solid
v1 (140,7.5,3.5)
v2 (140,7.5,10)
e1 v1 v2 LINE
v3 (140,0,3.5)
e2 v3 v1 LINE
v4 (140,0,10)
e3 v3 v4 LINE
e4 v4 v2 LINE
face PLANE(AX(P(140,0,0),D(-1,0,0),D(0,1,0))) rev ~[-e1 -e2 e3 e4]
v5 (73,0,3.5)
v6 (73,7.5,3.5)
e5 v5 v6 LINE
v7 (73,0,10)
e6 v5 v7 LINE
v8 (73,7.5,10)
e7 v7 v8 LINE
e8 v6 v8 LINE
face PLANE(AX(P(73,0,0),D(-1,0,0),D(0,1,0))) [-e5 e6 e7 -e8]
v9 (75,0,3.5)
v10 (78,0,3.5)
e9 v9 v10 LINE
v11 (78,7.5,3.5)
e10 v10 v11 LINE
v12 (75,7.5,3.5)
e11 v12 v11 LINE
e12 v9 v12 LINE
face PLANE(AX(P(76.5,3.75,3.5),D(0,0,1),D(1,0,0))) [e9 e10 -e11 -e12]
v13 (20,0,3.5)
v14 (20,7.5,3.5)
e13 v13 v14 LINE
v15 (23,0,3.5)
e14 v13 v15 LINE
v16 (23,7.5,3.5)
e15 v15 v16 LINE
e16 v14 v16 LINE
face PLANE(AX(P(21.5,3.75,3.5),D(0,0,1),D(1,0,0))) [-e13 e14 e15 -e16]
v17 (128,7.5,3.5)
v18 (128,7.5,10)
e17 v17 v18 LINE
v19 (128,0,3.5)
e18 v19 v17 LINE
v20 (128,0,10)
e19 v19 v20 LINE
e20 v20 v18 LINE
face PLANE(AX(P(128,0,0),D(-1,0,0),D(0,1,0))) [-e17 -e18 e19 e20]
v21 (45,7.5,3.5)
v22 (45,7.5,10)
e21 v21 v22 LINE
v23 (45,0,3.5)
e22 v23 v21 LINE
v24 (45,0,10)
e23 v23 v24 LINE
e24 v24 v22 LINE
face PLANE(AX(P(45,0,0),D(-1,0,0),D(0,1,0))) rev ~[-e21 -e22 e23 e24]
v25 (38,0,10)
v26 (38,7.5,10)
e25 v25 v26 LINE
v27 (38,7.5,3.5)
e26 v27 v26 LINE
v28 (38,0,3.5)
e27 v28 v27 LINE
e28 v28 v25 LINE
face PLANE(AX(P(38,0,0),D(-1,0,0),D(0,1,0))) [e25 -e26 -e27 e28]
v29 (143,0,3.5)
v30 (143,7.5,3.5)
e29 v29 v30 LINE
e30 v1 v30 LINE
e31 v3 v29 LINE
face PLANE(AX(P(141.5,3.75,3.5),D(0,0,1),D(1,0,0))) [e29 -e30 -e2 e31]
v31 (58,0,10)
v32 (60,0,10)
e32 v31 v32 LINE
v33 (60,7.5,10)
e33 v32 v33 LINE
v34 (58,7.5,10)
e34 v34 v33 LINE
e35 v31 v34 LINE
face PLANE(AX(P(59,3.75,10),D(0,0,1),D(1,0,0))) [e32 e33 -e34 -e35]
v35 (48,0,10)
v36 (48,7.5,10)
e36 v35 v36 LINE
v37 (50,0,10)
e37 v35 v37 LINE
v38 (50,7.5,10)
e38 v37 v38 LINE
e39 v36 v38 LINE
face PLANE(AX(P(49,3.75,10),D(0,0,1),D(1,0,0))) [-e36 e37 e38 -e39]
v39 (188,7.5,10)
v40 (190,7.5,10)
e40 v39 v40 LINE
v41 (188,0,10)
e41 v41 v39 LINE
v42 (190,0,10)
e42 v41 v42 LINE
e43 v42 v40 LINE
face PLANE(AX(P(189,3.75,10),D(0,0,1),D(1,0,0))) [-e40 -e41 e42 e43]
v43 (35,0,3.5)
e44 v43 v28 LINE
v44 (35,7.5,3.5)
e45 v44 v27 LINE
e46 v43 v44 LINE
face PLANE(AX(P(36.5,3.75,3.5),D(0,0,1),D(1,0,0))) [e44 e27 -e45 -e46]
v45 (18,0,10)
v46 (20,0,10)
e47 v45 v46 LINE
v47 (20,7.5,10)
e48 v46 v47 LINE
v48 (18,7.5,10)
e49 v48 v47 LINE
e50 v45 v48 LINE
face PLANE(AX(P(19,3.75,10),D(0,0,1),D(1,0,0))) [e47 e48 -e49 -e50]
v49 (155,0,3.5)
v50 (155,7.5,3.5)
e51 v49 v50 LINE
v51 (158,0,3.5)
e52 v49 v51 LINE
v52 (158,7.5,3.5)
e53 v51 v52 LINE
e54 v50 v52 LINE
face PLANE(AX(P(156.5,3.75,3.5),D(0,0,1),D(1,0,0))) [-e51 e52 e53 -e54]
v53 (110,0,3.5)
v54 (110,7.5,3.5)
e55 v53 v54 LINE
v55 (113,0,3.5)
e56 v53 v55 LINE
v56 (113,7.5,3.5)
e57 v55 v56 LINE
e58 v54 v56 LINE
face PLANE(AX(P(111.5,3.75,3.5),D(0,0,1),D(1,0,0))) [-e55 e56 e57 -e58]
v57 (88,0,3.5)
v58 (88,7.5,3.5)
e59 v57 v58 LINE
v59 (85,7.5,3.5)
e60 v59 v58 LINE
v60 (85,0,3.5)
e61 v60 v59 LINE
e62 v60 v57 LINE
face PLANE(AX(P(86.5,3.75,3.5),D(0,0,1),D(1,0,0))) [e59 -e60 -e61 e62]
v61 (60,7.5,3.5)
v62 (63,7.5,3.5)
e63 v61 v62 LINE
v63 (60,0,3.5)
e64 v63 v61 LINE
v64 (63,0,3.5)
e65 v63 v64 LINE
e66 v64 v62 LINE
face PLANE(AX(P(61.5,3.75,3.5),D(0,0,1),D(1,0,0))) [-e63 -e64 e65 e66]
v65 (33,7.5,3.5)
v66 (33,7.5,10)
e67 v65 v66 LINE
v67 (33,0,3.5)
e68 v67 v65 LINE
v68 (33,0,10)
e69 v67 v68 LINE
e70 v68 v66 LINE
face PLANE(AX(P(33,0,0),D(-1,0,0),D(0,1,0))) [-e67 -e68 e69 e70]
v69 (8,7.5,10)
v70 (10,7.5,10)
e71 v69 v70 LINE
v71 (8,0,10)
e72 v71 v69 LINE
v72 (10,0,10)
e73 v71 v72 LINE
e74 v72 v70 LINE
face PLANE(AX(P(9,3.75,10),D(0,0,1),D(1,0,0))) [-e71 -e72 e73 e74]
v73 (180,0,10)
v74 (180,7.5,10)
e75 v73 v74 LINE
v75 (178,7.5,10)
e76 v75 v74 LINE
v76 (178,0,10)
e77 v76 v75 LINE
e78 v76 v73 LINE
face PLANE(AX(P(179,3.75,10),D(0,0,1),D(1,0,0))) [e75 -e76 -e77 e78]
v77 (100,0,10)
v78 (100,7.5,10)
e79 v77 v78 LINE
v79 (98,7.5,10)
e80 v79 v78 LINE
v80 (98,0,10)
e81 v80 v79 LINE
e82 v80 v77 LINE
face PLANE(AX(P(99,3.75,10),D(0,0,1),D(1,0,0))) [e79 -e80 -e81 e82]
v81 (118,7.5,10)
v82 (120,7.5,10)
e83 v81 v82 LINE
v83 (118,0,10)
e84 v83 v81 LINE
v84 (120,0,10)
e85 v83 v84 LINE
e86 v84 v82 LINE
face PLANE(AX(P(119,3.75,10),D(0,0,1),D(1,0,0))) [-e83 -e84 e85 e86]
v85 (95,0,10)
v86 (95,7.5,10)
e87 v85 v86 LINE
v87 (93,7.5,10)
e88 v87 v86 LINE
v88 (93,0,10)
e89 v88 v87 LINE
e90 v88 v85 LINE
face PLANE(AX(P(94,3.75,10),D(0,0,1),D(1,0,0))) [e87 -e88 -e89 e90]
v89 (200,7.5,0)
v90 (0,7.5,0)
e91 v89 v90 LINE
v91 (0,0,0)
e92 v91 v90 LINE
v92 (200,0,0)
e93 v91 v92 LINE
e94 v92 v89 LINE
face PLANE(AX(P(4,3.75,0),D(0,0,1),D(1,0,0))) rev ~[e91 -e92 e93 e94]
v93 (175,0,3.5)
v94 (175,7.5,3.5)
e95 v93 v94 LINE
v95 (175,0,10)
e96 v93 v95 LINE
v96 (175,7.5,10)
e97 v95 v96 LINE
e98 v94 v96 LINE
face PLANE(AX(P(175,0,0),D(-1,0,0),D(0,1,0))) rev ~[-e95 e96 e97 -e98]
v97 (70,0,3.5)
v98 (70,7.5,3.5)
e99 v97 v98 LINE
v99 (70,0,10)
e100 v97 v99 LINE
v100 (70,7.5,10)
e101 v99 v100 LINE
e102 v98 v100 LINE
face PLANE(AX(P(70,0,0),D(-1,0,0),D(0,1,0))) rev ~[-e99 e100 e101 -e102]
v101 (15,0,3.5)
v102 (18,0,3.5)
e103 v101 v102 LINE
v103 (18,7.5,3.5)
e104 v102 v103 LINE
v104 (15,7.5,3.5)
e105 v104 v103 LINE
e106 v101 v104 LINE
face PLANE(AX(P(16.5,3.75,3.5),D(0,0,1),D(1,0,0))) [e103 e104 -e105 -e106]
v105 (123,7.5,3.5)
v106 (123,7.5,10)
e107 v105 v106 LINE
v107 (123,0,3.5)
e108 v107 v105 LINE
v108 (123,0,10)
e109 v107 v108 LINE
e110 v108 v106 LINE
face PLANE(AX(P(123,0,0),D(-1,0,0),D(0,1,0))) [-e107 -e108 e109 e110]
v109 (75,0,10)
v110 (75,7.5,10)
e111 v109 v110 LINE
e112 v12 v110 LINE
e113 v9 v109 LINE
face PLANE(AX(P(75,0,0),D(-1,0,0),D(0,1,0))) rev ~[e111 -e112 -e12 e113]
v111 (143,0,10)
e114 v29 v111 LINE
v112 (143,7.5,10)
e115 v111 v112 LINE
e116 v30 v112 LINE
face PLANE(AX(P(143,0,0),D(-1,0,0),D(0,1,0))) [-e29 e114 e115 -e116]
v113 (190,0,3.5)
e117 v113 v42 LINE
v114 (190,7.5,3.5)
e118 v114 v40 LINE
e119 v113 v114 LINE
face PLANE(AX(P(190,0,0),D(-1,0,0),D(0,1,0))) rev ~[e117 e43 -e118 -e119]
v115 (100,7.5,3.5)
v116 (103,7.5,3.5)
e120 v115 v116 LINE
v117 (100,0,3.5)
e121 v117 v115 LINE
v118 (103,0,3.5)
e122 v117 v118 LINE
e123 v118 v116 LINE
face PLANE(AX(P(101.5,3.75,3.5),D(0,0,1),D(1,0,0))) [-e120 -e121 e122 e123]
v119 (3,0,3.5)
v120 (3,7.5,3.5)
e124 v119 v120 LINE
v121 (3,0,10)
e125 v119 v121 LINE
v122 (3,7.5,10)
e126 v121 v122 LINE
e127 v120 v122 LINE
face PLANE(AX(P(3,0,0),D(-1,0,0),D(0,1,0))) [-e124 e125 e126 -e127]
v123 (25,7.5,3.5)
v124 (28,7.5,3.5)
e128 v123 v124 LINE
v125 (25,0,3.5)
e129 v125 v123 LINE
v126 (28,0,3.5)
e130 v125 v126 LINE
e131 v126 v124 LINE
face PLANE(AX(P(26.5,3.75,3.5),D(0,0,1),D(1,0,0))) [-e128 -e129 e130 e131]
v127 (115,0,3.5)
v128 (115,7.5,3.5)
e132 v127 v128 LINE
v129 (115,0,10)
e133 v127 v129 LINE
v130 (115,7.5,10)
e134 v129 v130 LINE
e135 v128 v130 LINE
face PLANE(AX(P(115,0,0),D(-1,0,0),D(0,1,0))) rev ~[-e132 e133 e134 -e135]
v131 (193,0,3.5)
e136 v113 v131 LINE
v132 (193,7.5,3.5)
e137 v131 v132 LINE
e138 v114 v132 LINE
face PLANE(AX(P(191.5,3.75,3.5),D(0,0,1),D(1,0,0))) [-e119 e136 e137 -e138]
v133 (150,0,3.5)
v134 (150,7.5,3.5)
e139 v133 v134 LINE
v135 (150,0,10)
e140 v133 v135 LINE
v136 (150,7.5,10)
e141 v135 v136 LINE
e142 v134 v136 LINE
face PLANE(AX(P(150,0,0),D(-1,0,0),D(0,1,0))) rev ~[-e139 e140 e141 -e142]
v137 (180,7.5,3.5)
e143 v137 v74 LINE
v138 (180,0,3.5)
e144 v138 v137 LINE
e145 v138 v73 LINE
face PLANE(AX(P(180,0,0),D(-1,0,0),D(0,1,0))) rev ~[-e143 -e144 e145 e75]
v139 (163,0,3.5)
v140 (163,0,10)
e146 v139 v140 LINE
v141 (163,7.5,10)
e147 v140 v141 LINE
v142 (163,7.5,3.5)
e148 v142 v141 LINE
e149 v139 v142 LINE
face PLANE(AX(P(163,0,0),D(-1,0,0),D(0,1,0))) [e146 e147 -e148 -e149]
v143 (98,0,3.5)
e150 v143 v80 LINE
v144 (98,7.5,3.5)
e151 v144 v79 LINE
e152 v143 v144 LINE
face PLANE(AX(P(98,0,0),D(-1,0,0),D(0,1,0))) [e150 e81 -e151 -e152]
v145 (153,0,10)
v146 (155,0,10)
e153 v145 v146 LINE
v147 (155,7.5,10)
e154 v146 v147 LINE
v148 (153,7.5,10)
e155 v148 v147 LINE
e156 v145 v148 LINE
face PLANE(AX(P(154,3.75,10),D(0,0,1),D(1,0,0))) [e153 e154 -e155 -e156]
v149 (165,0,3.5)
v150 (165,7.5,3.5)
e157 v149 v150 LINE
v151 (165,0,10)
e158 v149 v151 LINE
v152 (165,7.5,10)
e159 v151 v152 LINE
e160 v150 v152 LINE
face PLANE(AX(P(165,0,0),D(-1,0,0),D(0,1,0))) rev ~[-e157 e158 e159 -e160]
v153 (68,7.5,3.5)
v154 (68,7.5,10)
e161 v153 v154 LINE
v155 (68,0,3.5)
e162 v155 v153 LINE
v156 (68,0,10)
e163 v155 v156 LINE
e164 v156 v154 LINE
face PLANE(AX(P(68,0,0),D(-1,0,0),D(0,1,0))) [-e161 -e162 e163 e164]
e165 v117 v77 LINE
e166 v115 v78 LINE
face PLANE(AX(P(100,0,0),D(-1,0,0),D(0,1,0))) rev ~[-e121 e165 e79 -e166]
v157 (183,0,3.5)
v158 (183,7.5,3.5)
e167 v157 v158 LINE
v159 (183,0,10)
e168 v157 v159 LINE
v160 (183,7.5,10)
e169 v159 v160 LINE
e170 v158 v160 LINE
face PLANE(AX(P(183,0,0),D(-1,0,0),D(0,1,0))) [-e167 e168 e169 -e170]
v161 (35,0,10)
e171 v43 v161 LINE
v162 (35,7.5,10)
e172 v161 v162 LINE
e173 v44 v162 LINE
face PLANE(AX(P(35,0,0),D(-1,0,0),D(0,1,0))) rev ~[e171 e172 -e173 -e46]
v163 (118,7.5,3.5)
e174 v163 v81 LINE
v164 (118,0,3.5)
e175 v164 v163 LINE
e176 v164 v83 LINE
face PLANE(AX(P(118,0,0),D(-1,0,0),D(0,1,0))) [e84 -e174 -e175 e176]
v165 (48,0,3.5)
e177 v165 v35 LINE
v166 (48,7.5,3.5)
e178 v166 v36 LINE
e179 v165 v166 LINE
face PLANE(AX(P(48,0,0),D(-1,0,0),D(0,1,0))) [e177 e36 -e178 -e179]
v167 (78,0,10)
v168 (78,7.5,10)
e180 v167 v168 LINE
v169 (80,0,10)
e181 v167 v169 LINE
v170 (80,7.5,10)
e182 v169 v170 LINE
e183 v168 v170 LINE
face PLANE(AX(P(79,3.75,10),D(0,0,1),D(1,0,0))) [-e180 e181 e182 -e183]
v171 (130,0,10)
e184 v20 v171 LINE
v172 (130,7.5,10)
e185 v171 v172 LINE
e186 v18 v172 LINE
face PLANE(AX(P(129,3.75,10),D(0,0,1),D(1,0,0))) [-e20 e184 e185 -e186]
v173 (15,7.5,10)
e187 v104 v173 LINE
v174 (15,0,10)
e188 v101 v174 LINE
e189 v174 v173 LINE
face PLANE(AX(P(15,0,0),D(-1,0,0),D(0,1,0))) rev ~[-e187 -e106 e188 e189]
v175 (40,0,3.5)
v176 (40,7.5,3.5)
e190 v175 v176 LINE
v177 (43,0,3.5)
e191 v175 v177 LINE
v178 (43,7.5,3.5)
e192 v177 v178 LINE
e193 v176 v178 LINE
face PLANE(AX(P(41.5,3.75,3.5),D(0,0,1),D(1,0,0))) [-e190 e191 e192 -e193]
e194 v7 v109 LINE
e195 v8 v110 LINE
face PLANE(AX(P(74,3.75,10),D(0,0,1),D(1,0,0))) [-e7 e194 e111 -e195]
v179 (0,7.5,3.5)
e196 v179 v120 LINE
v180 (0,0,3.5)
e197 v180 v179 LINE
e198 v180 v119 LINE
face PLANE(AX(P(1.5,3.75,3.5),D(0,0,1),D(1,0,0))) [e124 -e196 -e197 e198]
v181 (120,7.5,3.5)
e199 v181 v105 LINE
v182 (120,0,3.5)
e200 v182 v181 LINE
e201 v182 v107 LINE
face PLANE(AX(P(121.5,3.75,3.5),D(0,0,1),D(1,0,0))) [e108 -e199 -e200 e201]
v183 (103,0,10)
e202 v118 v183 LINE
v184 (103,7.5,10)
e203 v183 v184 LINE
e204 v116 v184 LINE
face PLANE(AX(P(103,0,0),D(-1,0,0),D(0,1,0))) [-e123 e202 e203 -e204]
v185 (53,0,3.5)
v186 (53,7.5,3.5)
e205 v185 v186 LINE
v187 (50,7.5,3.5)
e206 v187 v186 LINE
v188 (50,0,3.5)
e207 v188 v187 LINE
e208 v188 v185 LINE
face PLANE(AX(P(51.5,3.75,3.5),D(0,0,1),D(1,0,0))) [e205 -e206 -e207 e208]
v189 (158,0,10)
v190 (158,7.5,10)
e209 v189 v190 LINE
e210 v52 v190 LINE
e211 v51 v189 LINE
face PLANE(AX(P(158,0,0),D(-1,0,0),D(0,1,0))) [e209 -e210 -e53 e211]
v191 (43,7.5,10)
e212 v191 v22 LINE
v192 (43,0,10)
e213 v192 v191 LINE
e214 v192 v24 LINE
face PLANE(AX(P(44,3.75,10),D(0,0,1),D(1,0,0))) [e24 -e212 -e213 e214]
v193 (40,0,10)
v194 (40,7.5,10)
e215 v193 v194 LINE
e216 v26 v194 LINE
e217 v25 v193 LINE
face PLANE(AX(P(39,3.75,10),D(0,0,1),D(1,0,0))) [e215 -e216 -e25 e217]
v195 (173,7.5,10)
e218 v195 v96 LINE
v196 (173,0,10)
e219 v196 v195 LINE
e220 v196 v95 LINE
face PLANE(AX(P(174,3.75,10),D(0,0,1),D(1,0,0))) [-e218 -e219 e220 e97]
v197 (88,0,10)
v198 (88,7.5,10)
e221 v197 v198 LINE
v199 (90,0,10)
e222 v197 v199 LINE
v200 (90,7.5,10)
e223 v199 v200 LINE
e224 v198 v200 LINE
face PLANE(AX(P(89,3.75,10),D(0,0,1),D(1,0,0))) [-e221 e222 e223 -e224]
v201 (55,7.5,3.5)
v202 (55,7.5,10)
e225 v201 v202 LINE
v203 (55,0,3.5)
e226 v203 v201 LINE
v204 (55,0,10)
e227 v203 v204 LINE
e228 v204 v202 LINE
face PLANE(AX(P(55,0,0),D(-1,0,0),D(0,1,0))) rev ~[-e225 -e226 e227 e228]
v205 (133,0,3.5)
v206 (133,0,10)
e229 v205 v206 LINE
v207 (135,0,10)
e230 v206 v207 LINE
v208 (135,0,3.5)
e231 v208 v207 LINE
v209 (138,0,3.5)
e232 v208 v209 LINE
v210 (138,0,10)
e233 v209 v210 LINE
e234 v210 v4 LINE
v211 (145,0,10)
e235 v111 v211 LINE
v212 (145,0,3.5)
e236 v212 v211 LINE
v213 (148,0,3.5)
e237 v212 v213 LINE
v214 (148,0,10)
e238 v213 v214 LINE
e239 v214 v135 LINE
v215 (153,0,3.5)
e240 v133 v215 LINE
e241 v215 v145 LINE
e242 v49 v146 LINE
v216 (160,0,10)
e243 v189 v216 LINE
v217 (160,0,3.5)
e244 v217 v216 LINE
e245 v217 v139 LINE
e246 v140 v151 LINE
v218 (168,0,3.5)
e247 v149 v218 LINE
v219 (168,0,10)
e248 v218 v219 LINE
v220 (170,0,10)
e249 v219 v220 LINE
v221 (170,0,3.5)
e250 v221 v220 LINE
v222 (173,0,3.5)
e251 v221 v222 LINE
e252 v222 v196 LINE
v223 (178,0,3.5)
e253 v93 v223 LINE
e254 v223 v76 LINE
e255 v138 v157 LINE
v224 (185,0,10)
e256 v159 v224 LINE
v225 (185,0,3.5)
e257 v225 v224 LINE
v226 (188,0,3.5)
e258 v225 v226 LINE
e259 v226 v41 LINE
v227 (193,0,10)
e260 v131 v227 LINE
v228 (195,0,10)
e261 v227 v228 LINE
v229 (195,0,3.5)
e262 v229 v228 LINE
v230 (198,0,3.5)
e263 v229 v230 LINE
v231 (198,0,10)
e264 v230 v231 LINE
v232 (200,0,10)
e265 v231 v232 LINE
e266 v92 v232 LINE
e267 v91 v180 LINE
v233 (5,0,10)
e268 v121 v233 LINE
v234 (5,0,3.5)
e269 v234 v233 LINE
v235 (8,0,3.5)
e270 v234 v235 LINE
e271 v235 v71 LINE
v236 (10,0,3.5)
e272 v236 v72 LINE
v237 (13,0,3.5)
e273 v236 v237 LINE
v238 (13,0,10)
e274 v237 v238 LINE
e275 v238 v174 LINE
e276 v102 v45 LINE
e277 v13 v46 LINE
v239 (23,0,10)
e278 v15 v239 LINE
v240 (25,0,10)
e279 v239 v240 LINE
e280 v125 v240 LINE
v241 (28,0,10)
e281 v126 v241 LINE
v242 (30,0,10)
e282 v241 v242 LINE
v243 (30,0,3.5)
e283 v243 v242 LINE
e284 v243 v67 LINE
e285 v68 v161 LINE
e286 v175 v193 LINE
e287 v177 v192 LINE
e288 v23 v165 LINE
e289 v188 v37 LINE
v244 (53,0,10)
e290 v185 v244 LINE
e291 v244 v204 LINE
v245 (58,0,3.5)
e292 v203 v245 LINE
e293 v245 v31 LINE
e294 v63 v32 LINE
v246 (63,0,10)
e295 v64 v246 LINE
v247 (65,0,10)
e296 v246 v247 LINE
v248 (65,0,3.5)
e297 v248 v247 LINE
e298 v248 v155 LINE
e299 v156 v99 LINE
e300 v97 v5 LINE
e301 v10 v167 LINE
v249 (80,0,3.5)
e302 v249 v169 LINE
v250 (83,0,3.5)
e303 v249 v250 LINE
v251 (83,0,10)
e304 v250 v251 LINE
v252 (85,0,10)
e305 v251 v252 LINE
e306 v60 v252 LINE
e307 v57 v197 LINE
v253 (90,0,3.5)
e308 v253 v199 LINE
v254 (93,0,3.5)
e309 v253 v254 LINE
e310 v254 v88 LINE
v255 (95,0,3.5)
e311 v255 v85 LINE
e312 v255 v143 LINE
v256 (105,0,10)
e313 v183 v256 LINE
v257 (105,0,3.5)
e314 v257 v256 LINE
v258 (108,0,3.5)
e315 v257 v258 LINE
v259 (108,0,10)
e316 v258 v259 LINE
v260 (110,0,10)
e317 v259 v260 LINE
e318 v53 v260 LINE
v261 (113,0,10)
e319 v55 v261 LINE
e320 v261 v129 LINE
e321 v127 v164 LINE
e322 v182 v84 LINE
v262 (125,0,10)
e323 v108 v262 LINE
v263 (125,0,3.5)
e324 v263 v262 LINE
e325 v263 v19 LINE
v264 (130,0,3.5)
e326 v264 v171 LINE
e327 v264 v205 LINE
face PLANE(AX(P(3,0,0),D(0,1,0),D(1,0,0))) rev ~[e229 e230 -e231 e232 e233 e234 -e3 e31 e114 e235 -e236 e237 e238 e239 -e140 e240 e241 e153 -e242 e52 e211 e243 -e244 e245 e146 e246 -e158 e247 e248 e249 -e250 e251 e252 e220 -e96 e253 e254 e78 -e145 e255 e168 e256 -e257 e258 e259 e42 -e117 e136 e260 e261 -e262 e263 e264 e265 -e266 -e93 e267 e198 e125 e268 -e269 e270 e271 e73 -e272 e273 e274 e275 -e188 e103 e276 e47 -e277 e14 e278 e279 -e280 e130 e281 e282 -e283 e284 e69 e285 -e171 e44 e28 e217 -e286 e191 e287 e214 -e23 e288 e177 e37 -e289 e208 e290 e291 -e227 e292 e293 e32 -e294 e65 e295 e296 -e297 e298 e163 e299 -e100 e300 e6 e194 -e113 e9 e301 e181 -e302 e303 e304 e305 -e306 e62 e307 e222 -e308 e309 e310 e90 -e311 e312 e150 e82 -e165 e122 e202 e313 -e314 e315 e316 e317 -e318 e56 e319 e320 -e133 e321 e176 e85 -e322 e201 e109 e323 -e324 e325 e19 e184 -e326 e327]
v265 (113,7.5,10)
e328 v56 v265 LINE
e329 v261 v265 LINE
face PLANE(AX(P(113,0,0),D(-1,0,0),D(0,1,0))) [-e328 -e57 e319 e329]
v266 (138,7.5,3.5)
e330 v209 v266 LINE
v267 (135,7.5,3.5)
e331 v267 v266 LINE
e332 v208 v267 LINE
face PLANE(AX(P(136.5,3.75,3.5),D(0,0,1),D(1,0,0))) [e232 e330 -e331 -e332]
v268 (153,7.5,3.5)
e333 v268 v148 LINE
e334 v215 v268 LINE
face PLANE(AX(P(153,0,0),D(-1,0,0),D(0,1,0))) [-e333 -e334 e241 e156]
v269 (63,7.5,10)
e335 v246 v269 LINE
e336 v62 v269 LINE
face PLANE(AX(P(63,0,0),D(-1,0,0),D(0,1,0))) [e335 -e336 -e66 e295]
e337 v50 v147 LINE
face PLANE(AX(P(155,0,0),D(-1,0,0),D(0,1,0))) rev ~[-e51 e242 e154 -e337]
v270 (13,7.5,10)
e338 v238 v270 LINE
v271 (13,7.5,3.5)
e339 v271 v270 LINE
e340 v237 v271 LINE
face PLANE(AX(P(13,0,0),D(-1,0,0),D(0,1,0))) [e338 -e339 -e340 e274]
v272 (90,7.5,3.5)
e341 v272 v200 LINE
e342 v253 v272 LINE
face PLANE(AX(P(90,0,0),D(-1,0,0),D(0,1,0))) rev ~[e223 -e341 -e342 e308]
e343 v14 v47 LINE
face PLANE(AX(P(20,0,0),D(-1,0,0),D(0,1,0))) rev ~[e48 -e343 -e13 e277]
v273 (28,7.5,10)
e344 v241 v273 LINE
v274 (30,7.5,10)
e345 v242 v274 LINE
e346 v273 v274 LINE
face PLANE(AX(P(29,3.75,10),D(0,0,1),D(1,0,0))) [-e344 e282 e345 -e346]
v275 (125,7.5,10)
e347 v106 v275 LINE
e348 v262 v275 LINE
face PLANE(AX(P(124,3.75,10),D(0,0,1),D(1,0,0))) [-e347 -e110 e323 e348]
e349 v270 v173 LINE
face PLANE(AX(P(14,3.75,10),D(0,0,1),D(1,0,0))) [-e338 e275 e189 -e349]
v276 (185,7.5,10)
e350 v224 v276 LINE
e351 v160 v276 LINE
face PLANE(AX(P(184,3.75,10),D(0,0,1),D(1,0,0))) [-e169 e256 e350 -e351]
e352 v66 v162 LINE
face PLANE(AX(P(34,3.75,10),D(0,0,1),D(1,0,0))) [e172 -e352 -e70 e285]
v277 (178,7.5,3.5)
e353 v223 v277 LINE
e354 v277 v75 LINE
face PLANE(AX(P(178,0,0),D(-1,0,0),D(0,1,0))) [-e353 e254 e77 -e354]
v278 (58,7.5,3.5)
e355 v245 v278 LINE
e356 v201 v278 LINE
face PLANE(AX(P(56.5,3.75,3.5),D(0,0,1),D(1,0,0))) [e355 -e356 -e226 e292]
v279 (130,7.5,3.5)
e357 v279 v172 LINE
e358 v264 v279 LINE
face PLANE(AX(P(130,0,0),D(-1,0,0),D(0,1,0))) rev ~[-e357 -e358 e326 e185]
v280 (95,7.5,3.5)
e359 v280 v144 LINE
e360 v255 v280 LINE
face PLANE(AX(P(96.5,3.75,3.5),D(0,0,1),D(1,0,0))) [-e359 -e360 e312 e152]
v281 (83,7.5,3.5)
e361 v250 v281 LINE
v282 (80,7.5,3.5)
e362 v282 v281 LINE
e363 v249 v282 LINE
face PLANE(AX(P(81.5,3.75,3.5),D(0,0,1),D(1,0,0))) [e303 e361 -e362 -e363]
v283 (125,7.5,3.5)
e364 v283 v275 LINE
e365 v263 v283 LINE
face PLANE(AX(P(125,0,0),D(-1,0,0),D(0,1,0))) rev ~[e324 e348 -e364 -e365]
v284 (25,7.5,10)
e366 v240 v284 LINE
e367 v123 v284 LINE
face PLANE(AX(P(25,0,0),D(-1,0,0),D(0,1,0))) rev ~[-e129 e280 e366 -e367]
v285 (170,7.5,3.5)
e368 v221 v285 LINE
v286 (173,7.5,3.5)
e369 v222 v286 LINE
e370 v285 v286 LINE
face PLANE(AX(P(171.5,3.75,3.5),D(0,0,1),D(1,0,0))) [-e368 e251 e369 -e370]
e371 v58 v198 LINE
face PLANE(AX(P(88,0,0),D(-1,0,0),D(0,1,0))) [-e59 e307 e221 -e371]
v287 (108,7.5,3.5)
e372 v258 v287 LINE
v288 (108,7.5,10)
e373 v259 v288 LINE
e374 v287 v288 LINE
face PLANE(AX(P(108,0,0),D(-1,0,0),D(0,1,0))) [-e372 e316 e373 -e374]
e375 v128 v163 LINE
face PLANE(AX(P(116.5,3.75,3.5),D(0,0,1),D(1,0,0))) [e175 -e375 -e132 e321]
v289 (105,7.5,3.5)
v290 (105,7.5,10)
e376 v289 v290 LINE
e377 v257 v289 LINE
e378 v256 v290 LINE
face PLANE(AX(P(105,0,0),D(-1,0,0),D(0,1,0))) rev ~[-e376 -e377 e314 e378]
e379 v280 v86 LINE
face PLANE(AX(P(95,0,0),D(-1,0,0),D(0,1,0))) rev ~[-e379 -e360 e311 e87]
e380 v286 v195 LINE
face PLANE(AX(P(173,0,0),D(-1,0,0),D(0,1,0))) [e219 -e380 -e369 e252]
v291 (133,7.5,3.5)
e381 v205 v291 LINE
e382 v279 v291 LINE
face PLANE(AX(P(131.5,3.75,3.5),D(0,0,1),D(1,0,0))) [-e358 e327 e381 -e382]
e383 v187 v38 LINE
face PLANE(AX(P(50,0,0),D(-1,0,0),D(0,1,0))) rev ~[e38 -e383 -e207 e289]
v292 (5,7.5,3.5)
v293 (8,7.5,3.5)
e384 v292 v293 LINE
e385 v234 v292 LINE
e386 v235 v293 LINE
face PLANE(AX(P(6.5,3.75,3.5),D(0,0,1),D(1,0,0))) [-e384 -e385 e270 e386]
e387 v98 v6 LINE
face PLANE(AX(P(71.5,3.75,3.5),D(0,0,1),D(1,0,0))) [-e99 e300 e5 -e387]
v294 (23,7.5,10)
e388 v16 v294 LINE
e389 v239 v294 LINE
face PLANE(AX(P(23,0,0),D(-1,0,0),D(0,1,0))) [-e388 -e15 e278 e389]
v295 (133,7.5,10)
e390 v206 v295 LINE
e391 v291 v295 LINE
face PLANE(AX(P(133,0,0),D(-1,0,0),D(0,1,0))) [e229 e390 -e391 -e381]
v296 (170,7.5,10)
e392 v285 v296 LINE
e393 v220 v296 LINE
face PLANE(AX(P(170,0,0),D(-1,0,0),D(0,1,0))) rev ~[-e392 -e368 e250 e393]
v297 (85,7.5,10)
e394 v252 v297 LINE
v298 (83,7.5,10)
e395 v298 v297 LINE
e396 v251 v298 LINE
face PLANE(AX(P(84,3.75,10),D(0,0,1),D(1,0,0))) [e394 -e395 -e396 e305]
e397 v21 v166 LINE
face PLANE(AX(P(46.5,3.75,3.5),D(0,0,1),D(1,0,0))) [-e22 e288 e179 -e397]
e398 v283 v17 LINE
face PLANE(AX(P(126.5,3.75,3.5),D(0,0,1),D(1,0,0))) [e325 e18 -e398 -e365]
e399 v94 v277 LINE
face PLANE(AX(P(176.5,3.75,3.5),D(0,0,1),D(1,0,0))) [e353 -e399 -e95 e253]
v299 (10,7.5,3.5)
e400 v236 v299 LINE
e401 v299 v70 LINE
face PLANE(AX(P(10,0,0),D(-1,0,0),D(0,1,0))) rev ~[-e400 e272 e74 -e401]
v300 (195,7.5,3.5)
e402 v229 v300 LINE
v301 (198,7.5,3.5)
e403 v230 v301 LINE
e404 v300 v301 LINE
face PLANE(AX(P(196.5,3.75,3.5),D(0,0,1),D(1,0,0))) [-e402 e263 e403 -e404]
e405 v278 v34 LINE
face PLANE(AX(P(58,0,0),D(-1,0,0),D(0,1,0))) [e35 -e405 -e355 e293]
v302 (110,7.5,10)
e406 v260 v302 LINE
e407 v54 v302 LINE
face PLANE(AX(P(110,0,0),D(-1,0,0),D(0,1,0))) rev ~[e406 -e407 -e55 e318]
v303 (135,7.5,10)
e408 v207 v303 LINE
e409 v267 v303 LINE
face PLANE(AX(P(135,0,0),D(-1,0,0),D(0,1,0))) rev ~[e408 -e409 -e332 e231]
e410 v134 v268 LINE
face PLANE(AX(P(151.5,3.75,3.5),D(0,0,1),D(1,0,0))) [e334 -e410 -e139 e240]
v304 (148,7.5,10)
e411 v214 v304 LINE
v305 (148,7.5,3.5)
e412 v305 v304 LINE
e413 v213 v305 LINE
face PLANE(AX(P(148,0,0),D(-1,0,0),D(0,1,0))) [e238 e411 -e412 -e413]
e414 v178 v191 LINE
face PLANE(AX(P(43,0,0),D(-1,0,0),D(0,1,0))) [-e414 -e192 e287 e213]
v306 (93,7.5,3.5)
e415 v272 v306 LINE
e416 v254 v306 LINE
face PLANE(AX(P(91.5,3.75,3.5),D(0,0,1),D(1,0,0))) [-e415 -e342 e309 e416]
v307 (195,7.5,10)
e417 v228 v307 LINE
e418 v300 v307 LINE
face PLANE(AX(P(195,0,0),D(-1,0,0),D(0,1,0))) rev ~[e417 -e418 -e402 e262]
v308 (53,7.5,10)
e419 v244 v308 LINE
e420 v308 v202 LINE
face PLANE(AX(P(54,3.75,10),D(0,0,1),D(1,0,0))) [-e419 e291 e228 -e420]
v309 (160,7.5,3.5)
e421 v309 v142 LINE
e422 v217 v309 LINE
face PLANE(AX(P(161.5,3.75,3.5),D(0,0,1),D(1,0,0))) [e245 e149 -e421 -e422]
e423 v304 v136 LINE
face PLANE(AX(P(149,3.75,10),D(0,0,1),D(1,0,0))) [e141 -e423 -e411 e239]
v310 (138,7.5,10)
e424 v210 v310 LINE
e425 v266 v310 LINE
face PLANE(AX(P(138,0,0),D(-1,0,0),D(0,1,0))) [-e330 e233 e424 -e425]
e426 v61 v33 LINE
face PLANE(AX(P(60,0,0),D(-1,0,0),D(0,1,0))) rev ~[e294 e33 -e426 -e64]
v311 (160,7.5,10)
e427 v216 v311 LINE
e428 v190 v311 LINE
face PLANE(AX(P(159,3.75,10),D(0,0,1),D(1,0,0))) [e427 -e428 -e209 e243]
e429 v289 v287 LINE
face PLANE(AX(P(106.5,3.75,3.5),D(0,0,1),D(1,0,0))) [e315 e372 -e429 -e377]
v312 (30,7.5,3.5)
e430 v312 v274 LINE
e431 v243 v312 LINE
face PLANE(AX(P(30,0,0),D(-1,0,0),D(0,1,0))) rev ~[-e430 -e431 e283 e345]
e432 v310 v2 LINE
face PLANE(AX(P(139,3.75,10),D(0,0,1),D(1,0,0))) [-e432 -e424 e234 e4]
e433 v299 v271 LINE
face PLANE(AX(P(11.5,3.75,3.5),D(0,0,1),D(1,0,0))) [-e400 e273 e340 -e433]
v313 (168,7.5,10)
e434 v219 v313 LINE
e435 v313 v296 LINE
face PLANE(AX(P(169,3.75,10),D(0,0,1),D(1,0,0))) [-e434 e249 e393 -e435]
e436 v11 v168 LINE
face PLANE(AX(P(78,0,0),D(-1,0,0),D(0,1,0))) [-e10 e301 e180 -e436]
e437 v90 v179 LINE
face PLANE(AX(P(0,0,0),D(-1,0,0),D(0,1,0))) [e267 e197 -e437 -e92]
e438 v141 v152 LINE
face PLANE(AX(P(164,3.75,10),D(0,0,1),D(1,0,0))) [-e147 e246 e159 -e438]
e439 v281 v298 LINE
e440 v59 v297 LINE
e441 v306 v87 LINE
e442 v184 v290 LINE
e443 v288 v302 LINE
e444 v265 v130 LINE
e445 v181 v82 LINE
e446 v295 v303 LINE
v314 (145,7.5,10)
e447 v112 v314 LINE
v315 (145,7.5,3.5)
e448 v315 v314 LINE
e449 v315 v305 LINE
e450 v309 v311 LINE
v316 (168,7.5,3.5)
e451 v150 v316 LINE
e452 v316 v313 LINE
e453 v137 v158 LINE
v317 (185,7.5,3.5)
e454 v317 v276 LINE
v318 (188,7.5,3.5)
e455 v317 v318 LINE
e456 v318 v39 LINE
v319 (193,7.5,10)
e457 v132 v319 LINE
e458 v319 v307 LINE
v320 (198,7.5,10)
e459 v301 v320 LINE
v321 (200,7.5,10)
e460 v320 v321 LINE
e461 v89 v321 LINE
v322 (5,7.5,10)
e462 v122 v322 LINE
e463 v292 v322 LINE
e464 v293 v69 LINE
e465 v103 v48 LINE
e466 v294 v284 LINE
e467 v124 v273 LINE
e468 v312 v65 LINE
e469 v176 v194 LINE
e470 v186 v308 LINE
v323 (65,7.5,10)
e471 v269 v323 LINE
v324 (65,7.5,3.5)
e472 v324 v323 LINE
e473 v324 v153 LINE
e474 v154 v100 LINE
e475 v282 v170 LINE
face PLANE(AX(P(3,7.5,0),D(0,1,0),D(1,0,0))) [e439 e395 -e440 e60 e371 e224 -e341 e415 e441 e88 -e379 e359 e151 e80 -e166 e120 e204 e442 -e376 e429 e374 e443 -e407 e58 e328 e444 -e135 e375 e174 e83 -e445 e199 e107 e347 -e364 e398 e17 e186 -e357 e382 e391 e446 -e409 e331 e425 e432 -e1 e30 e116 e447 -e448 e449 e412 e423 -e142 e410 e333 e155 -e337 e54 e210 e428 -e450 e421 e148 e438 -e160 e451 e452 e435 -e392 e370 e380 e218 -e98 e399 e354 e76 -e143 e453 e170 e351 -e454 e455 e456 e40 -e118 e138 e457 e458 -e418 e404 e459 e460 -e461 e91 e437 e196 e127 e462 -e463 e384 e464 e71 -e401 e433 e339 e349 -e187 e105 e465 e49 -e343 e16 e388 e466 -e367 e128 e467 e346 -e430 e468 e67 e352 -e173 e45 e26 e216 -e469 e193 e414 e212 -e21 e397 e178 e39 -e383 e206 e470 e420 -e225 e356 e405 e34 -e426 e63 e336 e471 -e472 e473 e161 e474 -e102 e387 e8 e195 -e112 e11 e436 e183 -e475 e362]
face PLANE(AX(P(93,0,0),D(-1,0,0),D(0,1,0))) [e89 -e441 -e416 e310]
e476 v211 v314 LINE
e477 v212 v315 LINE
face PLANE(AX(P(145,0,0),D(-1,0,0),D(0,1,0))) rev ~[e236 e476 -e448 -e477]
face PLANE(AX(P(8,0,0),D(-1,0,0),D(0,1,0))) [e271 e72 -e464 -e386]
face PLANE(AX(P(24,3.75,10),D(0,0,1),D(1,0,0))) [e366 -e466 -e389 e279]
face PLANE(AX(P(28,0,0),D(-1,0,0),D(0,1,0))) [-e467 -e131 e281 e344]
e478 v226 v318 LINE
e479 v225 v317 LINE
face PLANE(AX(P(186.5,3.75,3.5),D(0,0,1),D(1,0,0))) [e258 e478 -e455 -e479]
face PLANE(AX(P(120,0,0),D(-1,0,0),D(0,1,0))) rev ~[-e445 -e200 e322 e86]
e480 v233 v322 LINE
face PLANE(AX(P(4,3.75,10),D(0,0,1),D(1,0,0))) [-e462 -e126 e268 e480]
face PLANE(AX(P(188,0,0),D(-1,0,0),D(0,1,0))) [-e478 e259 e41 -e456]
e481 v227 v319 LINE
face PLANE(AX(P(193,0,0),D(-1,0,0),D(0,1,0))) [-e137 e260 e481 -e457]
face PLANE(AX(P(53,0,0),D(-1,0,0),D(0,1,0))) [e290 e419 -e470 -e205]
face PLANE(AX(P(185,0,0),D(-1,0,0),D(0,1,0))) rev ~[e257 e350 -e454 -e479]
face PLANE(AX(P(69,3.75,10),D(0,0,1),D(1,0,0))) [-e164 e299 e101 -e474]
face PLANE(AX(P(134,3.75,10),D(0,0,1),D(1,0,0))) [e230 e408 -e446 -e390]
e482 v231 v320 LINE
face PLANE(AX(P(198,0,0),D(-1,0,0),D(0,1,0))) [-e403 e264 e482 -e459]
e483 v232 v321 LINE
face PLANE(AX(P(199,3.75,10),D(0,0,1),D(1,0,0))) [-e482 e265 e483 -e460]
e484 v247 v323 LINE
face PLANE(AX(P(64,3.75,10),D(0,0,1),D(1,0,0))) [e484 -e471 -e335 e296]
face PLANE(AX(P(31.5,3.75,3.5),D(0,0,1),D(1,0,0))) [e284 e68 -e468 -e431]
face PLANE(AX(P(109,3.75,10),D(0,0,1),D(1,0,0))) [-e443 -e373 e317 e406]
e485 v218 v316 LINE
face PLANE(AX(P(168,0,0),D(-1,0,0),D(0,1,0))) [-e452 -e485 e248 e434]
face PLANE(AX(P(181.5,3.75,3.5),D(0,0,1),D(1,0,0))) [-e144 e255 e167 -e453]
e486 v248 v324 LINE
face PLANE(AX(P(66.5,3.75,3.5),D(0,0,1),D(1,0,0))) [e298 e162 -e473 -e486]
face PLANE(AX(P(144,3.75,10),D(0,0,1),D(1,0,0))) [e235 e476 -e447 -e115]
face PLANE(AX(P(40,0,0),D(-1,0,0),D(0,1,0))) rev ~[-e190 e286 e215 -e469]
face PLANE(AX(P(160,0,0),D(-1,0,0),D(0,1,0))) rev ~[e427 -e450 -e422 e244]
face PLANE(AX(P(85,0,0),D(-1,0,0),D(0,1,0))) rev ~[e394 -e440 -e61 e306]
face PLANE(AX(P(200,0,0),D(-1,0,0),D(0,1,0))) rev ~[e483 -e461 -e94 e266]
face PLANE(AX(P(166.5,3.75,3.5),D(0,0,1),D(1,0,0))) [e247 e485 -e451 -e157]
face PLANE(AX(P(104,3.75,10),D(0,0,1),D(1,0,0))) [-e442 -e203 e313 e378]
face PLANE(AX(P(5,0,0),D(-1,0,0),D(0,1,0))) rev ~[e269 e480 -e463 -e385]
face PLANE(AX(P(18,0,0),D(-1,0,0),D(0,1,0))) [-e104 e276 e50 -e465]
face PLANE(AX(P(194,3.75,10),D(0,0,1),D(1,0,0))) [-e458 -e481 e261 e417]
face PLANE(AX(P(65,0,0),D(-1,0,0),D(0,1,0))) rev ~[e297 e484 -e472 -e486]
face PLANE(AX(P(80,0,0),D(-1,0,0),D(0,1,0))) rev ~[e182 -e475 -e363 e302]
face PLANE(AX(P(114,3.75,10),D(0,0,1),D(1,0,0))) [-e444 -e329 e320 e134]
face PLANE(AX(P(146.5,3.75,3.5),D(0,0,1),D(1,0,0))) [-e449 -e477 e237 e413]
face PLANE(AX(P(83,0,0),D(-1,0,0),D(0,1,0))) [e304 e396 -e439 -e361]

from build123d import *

# Parameters (mm, degrees)
F0_W     = 3
F0_H     = 7.5
F1_DEPTH = 3.5
F0_W_2   = 2
F2_DEPTH = 10


with BuildPart() as f1:
    # F0 (on Top) → F1 (new body)
    with BuildSketch(Plane.XY):
        with Locations((1.5, 3.75)):
            Rectangle(F0_W, F0_H)
        with Locations((6.5, 3.75)):
            Rectangle(F0_W, F0_H)
        with Locations((11.5, 3.75)):
            Rectangle(F0_W, F0_H)
        with Locations((16.5, 3.75)):
            Rectangle(F0_W, F0_H)
        with Locations((21.5, 3.75)):
            Rectangle(F0_W, F0_H)
        with Locations((26.5, 3.75)):
            Rectangle(F0_W, F0_H)
        with Locations((31.5, 3.75)):
            Rectangle(F0_W, F0_H)
        with Locations((36.5, 3.75)):
            Rectangle(F0_W, F0_H)
        with Locations((41.5, 3.75)):
            Rectangle(F0_W, F0_H)
        with Locations((46.5, 3.75)):
            Rectangle(F0_W, F0_H)
        with Locations((51.5, 3.75)):
            Rectangle(F0_W, F0_H)
        with Locations((56.5, 3.75)):
            Rectangle(F0_W, F0_H)
        with Locations((61.5, 3.75)):
            Rectangle(F0_W, F0_H)
        with Locations((66.5, 3.75)):
            Rectangle(F0_W, F0_H)
        with Locations((71.5, 3.75)):
            Rectangle(F0_W, F0_H)
        with Locations((76.5, 3.75)):
            Rectangle(F0_W, F0_H)
        with Locations((81.5, 3.75)):
            Rectangle(F0_W, F0_H)
        with Locations((86.5, 3.75)):
            Rectangle(F0_W, F0_H)
        with Locations((91.5, 3.75)):
            Rectangle(F0_W, F0_H)
        with Locations((96.5, 3.75)):
            Rectangle(F0_W, F0_H)
        with Locations((101.5, 3.75)):
            Rectangle(F0_W, F0_H)
        with Locations((106.5, 3.75)):
            Rectangle(F0_W, F0_H)
        with Locations((111.5, 3.75)):
            Rectangle(F0_W, F0_H)
        with Locations((116.5, 3.75)):
            Rectangle(F0_W, F0_H)
        with Locations((121.5, 3.75)):
            Rectangle(F0_W, F0_H)
        with Locations((126.5, 3.75)):
            Rectangle(F0_W, F0_H)
        with Locations((131.5, 3.75)):
            Rectangle(F0_W, F0_H)
        with Locations((136.5, 3.75)):
            Rectangle(F0_W, F0_H)
        with Locations((141.5, 3.75)):
            Rectangle(F0_W, F0_H)
        with Locations((146.5, 3.75)):
            Rectangle(F0_W, F0_H)
        with Locations((151.5, 3.75)):
            Rectangle(F0_W, F0_H)
        with Locations((156.5, 3.75)):
            Rectangle(F0_W, F0_H)
        with Locations((161.5, 3.75)):
            Rectangle(F0_W, F0_H)
        with Locations((166.5, 3.75)):
            Rectangle(F0_W, F0_H)
        with Locations((171.5, 3.75)):
            Rectangle(F0_W, F0_H)
        with Locations((176.5, 3.75)):
            Rectangle(F0_W, F0_H)
        with Locations((181.5, 3.75)):
            Rectangle(F0_W, F0_H)
        with Locations((186.5, 3.75)):
            Rectangle(F0_W, F0_H)
        with Locations((191.5, 3.75)):
            Rectangle(F0_W, F0_H)
        with Locations((196.5, 3.75)):
            Rectangle(F0_W, F0_H)
    extrude(amount=F1_DEPTH)

    # F0 (on Top) → F2 (join)
    with BuildSketch(Plane.XY):
        with Locations((4, 3.75)):
            Rectangle(F0_W_2, F0_H)
        with Locations((9, 3.75)):
            Rectangle(F0_W_2, F0_H)
        with Locations((14, 3.75)):
            Rectangle(F0_W_2, F0_H)
        with Locations((19, 3.75)):
            Rectangle(F0_W_2, F0_H)
        with Locations((24, 3.75)):
            Rectangle(F0_W_2, F0_H)
        with Locations((29, 3.75)):
            Rectangle(F0_W_2, F0_H)
        with Locations((34, 3.75)):
            Rectangle(F0_W_2, F0_H)
        with Locations((39, 3.75)):
            Rectangle(F0_W_2, F0_H)
        with Locations((44, 3.75)):
            Rectangle(F0_W_2, F0_H)
        with Locations((49, 3.75)):
            Rectangle(F0_W_2, F0_H)
        with Locations((54, 3.75)):
            Rectangle(F0_W_2, F0_H)
        with Locations((59, 3.75)):
            Rectangle(F0_W_2, F0_H)
        with Locations((64, 3.75)):
            Rectangle(F0_W_2, F0_H)
        with Locations((69, 3.75)):
            Rectangle(F0_W_2, F0_H)
        with Locations((74, 3.75)):
            Rectangle(F0_W_2, F0_H)
        with Locations((79, 3.75)):
            Rectangle(F0_W_2, F0_H)
        with Locations((84, 3.75)):
            Rectangle(F0_W_2, F0_H)
        with Locations((89, 3.75)):
            Rectangle(F0_W_2, F0_H)
        with Locations((94, 3.75)):
            Rectangle(F0_W_2, F0_H)
        with Locations((99, 3.75)):
            Rectangle(F0_W_2, F0_H)
        with Locations((104, 3.75)):
            Rectangle(F0_W_2, F0_H)
        with Locations((109, 3.75)):
            Rectangle(F0_W_2, F0_H)
        with Locations((114, 3.75)):
            Rectangle(F0_W_2, F0_H)
        with Locations((119, 3.75)):
            Rectangle(F0_W_2, F0_H)
        with Locations((124, 3.75)):
            Rectangle(F0_W_2, F0_H)
        with Locations((129, 3.75)):
            Rectangle(F0_W_2, F0_H)
        with Locations((134, 3.75)):
            Rectangle(F0_W_2, F0_H)
        with Locations((139, 3.75)):
            Rectangle(F0_W_2, F0_H)
        with Locations((144, 3.75)):
            Rectangle(F0_W_2, F0_H)
        with Locations((149, 3.75)):
            Rectangle(F0_W_2, F0_H)
        with Locations((154, 3.75)):
            Rectangle(F0_W_2, F0_H)
        with Locations((159, 3.75)):
            Rectangle(F0_W_2, F0_H)
        with Locations((164, 3.75)):
            Rectangle(F0_W_2, F0_H)
        with Locations((169, 3.75)):
            Rectangle(F0_W_2, F0_H)
        with Locations((174, 3.75)):
            Rectangle(F0_W_2, F0_H)
        with Locations((179, 3.75)):
            Rectangle(F0_W_2, F0_H)
        with Locations((184, 3.75)):
            Rectangle(F0_W_2, F0_H)
        with Locations((189, 3.75)):
            Rectangle(F0_W_2, F0_H)
        with Locations((194, 3.75)):
            Rectangle(F0_W_2, F0_H)
        with Locations((199, 3.75)):
            Rectangle(F0_W_2, F0_H)
    extrude(amount=F2_DEPTH)


solid = f1.part
